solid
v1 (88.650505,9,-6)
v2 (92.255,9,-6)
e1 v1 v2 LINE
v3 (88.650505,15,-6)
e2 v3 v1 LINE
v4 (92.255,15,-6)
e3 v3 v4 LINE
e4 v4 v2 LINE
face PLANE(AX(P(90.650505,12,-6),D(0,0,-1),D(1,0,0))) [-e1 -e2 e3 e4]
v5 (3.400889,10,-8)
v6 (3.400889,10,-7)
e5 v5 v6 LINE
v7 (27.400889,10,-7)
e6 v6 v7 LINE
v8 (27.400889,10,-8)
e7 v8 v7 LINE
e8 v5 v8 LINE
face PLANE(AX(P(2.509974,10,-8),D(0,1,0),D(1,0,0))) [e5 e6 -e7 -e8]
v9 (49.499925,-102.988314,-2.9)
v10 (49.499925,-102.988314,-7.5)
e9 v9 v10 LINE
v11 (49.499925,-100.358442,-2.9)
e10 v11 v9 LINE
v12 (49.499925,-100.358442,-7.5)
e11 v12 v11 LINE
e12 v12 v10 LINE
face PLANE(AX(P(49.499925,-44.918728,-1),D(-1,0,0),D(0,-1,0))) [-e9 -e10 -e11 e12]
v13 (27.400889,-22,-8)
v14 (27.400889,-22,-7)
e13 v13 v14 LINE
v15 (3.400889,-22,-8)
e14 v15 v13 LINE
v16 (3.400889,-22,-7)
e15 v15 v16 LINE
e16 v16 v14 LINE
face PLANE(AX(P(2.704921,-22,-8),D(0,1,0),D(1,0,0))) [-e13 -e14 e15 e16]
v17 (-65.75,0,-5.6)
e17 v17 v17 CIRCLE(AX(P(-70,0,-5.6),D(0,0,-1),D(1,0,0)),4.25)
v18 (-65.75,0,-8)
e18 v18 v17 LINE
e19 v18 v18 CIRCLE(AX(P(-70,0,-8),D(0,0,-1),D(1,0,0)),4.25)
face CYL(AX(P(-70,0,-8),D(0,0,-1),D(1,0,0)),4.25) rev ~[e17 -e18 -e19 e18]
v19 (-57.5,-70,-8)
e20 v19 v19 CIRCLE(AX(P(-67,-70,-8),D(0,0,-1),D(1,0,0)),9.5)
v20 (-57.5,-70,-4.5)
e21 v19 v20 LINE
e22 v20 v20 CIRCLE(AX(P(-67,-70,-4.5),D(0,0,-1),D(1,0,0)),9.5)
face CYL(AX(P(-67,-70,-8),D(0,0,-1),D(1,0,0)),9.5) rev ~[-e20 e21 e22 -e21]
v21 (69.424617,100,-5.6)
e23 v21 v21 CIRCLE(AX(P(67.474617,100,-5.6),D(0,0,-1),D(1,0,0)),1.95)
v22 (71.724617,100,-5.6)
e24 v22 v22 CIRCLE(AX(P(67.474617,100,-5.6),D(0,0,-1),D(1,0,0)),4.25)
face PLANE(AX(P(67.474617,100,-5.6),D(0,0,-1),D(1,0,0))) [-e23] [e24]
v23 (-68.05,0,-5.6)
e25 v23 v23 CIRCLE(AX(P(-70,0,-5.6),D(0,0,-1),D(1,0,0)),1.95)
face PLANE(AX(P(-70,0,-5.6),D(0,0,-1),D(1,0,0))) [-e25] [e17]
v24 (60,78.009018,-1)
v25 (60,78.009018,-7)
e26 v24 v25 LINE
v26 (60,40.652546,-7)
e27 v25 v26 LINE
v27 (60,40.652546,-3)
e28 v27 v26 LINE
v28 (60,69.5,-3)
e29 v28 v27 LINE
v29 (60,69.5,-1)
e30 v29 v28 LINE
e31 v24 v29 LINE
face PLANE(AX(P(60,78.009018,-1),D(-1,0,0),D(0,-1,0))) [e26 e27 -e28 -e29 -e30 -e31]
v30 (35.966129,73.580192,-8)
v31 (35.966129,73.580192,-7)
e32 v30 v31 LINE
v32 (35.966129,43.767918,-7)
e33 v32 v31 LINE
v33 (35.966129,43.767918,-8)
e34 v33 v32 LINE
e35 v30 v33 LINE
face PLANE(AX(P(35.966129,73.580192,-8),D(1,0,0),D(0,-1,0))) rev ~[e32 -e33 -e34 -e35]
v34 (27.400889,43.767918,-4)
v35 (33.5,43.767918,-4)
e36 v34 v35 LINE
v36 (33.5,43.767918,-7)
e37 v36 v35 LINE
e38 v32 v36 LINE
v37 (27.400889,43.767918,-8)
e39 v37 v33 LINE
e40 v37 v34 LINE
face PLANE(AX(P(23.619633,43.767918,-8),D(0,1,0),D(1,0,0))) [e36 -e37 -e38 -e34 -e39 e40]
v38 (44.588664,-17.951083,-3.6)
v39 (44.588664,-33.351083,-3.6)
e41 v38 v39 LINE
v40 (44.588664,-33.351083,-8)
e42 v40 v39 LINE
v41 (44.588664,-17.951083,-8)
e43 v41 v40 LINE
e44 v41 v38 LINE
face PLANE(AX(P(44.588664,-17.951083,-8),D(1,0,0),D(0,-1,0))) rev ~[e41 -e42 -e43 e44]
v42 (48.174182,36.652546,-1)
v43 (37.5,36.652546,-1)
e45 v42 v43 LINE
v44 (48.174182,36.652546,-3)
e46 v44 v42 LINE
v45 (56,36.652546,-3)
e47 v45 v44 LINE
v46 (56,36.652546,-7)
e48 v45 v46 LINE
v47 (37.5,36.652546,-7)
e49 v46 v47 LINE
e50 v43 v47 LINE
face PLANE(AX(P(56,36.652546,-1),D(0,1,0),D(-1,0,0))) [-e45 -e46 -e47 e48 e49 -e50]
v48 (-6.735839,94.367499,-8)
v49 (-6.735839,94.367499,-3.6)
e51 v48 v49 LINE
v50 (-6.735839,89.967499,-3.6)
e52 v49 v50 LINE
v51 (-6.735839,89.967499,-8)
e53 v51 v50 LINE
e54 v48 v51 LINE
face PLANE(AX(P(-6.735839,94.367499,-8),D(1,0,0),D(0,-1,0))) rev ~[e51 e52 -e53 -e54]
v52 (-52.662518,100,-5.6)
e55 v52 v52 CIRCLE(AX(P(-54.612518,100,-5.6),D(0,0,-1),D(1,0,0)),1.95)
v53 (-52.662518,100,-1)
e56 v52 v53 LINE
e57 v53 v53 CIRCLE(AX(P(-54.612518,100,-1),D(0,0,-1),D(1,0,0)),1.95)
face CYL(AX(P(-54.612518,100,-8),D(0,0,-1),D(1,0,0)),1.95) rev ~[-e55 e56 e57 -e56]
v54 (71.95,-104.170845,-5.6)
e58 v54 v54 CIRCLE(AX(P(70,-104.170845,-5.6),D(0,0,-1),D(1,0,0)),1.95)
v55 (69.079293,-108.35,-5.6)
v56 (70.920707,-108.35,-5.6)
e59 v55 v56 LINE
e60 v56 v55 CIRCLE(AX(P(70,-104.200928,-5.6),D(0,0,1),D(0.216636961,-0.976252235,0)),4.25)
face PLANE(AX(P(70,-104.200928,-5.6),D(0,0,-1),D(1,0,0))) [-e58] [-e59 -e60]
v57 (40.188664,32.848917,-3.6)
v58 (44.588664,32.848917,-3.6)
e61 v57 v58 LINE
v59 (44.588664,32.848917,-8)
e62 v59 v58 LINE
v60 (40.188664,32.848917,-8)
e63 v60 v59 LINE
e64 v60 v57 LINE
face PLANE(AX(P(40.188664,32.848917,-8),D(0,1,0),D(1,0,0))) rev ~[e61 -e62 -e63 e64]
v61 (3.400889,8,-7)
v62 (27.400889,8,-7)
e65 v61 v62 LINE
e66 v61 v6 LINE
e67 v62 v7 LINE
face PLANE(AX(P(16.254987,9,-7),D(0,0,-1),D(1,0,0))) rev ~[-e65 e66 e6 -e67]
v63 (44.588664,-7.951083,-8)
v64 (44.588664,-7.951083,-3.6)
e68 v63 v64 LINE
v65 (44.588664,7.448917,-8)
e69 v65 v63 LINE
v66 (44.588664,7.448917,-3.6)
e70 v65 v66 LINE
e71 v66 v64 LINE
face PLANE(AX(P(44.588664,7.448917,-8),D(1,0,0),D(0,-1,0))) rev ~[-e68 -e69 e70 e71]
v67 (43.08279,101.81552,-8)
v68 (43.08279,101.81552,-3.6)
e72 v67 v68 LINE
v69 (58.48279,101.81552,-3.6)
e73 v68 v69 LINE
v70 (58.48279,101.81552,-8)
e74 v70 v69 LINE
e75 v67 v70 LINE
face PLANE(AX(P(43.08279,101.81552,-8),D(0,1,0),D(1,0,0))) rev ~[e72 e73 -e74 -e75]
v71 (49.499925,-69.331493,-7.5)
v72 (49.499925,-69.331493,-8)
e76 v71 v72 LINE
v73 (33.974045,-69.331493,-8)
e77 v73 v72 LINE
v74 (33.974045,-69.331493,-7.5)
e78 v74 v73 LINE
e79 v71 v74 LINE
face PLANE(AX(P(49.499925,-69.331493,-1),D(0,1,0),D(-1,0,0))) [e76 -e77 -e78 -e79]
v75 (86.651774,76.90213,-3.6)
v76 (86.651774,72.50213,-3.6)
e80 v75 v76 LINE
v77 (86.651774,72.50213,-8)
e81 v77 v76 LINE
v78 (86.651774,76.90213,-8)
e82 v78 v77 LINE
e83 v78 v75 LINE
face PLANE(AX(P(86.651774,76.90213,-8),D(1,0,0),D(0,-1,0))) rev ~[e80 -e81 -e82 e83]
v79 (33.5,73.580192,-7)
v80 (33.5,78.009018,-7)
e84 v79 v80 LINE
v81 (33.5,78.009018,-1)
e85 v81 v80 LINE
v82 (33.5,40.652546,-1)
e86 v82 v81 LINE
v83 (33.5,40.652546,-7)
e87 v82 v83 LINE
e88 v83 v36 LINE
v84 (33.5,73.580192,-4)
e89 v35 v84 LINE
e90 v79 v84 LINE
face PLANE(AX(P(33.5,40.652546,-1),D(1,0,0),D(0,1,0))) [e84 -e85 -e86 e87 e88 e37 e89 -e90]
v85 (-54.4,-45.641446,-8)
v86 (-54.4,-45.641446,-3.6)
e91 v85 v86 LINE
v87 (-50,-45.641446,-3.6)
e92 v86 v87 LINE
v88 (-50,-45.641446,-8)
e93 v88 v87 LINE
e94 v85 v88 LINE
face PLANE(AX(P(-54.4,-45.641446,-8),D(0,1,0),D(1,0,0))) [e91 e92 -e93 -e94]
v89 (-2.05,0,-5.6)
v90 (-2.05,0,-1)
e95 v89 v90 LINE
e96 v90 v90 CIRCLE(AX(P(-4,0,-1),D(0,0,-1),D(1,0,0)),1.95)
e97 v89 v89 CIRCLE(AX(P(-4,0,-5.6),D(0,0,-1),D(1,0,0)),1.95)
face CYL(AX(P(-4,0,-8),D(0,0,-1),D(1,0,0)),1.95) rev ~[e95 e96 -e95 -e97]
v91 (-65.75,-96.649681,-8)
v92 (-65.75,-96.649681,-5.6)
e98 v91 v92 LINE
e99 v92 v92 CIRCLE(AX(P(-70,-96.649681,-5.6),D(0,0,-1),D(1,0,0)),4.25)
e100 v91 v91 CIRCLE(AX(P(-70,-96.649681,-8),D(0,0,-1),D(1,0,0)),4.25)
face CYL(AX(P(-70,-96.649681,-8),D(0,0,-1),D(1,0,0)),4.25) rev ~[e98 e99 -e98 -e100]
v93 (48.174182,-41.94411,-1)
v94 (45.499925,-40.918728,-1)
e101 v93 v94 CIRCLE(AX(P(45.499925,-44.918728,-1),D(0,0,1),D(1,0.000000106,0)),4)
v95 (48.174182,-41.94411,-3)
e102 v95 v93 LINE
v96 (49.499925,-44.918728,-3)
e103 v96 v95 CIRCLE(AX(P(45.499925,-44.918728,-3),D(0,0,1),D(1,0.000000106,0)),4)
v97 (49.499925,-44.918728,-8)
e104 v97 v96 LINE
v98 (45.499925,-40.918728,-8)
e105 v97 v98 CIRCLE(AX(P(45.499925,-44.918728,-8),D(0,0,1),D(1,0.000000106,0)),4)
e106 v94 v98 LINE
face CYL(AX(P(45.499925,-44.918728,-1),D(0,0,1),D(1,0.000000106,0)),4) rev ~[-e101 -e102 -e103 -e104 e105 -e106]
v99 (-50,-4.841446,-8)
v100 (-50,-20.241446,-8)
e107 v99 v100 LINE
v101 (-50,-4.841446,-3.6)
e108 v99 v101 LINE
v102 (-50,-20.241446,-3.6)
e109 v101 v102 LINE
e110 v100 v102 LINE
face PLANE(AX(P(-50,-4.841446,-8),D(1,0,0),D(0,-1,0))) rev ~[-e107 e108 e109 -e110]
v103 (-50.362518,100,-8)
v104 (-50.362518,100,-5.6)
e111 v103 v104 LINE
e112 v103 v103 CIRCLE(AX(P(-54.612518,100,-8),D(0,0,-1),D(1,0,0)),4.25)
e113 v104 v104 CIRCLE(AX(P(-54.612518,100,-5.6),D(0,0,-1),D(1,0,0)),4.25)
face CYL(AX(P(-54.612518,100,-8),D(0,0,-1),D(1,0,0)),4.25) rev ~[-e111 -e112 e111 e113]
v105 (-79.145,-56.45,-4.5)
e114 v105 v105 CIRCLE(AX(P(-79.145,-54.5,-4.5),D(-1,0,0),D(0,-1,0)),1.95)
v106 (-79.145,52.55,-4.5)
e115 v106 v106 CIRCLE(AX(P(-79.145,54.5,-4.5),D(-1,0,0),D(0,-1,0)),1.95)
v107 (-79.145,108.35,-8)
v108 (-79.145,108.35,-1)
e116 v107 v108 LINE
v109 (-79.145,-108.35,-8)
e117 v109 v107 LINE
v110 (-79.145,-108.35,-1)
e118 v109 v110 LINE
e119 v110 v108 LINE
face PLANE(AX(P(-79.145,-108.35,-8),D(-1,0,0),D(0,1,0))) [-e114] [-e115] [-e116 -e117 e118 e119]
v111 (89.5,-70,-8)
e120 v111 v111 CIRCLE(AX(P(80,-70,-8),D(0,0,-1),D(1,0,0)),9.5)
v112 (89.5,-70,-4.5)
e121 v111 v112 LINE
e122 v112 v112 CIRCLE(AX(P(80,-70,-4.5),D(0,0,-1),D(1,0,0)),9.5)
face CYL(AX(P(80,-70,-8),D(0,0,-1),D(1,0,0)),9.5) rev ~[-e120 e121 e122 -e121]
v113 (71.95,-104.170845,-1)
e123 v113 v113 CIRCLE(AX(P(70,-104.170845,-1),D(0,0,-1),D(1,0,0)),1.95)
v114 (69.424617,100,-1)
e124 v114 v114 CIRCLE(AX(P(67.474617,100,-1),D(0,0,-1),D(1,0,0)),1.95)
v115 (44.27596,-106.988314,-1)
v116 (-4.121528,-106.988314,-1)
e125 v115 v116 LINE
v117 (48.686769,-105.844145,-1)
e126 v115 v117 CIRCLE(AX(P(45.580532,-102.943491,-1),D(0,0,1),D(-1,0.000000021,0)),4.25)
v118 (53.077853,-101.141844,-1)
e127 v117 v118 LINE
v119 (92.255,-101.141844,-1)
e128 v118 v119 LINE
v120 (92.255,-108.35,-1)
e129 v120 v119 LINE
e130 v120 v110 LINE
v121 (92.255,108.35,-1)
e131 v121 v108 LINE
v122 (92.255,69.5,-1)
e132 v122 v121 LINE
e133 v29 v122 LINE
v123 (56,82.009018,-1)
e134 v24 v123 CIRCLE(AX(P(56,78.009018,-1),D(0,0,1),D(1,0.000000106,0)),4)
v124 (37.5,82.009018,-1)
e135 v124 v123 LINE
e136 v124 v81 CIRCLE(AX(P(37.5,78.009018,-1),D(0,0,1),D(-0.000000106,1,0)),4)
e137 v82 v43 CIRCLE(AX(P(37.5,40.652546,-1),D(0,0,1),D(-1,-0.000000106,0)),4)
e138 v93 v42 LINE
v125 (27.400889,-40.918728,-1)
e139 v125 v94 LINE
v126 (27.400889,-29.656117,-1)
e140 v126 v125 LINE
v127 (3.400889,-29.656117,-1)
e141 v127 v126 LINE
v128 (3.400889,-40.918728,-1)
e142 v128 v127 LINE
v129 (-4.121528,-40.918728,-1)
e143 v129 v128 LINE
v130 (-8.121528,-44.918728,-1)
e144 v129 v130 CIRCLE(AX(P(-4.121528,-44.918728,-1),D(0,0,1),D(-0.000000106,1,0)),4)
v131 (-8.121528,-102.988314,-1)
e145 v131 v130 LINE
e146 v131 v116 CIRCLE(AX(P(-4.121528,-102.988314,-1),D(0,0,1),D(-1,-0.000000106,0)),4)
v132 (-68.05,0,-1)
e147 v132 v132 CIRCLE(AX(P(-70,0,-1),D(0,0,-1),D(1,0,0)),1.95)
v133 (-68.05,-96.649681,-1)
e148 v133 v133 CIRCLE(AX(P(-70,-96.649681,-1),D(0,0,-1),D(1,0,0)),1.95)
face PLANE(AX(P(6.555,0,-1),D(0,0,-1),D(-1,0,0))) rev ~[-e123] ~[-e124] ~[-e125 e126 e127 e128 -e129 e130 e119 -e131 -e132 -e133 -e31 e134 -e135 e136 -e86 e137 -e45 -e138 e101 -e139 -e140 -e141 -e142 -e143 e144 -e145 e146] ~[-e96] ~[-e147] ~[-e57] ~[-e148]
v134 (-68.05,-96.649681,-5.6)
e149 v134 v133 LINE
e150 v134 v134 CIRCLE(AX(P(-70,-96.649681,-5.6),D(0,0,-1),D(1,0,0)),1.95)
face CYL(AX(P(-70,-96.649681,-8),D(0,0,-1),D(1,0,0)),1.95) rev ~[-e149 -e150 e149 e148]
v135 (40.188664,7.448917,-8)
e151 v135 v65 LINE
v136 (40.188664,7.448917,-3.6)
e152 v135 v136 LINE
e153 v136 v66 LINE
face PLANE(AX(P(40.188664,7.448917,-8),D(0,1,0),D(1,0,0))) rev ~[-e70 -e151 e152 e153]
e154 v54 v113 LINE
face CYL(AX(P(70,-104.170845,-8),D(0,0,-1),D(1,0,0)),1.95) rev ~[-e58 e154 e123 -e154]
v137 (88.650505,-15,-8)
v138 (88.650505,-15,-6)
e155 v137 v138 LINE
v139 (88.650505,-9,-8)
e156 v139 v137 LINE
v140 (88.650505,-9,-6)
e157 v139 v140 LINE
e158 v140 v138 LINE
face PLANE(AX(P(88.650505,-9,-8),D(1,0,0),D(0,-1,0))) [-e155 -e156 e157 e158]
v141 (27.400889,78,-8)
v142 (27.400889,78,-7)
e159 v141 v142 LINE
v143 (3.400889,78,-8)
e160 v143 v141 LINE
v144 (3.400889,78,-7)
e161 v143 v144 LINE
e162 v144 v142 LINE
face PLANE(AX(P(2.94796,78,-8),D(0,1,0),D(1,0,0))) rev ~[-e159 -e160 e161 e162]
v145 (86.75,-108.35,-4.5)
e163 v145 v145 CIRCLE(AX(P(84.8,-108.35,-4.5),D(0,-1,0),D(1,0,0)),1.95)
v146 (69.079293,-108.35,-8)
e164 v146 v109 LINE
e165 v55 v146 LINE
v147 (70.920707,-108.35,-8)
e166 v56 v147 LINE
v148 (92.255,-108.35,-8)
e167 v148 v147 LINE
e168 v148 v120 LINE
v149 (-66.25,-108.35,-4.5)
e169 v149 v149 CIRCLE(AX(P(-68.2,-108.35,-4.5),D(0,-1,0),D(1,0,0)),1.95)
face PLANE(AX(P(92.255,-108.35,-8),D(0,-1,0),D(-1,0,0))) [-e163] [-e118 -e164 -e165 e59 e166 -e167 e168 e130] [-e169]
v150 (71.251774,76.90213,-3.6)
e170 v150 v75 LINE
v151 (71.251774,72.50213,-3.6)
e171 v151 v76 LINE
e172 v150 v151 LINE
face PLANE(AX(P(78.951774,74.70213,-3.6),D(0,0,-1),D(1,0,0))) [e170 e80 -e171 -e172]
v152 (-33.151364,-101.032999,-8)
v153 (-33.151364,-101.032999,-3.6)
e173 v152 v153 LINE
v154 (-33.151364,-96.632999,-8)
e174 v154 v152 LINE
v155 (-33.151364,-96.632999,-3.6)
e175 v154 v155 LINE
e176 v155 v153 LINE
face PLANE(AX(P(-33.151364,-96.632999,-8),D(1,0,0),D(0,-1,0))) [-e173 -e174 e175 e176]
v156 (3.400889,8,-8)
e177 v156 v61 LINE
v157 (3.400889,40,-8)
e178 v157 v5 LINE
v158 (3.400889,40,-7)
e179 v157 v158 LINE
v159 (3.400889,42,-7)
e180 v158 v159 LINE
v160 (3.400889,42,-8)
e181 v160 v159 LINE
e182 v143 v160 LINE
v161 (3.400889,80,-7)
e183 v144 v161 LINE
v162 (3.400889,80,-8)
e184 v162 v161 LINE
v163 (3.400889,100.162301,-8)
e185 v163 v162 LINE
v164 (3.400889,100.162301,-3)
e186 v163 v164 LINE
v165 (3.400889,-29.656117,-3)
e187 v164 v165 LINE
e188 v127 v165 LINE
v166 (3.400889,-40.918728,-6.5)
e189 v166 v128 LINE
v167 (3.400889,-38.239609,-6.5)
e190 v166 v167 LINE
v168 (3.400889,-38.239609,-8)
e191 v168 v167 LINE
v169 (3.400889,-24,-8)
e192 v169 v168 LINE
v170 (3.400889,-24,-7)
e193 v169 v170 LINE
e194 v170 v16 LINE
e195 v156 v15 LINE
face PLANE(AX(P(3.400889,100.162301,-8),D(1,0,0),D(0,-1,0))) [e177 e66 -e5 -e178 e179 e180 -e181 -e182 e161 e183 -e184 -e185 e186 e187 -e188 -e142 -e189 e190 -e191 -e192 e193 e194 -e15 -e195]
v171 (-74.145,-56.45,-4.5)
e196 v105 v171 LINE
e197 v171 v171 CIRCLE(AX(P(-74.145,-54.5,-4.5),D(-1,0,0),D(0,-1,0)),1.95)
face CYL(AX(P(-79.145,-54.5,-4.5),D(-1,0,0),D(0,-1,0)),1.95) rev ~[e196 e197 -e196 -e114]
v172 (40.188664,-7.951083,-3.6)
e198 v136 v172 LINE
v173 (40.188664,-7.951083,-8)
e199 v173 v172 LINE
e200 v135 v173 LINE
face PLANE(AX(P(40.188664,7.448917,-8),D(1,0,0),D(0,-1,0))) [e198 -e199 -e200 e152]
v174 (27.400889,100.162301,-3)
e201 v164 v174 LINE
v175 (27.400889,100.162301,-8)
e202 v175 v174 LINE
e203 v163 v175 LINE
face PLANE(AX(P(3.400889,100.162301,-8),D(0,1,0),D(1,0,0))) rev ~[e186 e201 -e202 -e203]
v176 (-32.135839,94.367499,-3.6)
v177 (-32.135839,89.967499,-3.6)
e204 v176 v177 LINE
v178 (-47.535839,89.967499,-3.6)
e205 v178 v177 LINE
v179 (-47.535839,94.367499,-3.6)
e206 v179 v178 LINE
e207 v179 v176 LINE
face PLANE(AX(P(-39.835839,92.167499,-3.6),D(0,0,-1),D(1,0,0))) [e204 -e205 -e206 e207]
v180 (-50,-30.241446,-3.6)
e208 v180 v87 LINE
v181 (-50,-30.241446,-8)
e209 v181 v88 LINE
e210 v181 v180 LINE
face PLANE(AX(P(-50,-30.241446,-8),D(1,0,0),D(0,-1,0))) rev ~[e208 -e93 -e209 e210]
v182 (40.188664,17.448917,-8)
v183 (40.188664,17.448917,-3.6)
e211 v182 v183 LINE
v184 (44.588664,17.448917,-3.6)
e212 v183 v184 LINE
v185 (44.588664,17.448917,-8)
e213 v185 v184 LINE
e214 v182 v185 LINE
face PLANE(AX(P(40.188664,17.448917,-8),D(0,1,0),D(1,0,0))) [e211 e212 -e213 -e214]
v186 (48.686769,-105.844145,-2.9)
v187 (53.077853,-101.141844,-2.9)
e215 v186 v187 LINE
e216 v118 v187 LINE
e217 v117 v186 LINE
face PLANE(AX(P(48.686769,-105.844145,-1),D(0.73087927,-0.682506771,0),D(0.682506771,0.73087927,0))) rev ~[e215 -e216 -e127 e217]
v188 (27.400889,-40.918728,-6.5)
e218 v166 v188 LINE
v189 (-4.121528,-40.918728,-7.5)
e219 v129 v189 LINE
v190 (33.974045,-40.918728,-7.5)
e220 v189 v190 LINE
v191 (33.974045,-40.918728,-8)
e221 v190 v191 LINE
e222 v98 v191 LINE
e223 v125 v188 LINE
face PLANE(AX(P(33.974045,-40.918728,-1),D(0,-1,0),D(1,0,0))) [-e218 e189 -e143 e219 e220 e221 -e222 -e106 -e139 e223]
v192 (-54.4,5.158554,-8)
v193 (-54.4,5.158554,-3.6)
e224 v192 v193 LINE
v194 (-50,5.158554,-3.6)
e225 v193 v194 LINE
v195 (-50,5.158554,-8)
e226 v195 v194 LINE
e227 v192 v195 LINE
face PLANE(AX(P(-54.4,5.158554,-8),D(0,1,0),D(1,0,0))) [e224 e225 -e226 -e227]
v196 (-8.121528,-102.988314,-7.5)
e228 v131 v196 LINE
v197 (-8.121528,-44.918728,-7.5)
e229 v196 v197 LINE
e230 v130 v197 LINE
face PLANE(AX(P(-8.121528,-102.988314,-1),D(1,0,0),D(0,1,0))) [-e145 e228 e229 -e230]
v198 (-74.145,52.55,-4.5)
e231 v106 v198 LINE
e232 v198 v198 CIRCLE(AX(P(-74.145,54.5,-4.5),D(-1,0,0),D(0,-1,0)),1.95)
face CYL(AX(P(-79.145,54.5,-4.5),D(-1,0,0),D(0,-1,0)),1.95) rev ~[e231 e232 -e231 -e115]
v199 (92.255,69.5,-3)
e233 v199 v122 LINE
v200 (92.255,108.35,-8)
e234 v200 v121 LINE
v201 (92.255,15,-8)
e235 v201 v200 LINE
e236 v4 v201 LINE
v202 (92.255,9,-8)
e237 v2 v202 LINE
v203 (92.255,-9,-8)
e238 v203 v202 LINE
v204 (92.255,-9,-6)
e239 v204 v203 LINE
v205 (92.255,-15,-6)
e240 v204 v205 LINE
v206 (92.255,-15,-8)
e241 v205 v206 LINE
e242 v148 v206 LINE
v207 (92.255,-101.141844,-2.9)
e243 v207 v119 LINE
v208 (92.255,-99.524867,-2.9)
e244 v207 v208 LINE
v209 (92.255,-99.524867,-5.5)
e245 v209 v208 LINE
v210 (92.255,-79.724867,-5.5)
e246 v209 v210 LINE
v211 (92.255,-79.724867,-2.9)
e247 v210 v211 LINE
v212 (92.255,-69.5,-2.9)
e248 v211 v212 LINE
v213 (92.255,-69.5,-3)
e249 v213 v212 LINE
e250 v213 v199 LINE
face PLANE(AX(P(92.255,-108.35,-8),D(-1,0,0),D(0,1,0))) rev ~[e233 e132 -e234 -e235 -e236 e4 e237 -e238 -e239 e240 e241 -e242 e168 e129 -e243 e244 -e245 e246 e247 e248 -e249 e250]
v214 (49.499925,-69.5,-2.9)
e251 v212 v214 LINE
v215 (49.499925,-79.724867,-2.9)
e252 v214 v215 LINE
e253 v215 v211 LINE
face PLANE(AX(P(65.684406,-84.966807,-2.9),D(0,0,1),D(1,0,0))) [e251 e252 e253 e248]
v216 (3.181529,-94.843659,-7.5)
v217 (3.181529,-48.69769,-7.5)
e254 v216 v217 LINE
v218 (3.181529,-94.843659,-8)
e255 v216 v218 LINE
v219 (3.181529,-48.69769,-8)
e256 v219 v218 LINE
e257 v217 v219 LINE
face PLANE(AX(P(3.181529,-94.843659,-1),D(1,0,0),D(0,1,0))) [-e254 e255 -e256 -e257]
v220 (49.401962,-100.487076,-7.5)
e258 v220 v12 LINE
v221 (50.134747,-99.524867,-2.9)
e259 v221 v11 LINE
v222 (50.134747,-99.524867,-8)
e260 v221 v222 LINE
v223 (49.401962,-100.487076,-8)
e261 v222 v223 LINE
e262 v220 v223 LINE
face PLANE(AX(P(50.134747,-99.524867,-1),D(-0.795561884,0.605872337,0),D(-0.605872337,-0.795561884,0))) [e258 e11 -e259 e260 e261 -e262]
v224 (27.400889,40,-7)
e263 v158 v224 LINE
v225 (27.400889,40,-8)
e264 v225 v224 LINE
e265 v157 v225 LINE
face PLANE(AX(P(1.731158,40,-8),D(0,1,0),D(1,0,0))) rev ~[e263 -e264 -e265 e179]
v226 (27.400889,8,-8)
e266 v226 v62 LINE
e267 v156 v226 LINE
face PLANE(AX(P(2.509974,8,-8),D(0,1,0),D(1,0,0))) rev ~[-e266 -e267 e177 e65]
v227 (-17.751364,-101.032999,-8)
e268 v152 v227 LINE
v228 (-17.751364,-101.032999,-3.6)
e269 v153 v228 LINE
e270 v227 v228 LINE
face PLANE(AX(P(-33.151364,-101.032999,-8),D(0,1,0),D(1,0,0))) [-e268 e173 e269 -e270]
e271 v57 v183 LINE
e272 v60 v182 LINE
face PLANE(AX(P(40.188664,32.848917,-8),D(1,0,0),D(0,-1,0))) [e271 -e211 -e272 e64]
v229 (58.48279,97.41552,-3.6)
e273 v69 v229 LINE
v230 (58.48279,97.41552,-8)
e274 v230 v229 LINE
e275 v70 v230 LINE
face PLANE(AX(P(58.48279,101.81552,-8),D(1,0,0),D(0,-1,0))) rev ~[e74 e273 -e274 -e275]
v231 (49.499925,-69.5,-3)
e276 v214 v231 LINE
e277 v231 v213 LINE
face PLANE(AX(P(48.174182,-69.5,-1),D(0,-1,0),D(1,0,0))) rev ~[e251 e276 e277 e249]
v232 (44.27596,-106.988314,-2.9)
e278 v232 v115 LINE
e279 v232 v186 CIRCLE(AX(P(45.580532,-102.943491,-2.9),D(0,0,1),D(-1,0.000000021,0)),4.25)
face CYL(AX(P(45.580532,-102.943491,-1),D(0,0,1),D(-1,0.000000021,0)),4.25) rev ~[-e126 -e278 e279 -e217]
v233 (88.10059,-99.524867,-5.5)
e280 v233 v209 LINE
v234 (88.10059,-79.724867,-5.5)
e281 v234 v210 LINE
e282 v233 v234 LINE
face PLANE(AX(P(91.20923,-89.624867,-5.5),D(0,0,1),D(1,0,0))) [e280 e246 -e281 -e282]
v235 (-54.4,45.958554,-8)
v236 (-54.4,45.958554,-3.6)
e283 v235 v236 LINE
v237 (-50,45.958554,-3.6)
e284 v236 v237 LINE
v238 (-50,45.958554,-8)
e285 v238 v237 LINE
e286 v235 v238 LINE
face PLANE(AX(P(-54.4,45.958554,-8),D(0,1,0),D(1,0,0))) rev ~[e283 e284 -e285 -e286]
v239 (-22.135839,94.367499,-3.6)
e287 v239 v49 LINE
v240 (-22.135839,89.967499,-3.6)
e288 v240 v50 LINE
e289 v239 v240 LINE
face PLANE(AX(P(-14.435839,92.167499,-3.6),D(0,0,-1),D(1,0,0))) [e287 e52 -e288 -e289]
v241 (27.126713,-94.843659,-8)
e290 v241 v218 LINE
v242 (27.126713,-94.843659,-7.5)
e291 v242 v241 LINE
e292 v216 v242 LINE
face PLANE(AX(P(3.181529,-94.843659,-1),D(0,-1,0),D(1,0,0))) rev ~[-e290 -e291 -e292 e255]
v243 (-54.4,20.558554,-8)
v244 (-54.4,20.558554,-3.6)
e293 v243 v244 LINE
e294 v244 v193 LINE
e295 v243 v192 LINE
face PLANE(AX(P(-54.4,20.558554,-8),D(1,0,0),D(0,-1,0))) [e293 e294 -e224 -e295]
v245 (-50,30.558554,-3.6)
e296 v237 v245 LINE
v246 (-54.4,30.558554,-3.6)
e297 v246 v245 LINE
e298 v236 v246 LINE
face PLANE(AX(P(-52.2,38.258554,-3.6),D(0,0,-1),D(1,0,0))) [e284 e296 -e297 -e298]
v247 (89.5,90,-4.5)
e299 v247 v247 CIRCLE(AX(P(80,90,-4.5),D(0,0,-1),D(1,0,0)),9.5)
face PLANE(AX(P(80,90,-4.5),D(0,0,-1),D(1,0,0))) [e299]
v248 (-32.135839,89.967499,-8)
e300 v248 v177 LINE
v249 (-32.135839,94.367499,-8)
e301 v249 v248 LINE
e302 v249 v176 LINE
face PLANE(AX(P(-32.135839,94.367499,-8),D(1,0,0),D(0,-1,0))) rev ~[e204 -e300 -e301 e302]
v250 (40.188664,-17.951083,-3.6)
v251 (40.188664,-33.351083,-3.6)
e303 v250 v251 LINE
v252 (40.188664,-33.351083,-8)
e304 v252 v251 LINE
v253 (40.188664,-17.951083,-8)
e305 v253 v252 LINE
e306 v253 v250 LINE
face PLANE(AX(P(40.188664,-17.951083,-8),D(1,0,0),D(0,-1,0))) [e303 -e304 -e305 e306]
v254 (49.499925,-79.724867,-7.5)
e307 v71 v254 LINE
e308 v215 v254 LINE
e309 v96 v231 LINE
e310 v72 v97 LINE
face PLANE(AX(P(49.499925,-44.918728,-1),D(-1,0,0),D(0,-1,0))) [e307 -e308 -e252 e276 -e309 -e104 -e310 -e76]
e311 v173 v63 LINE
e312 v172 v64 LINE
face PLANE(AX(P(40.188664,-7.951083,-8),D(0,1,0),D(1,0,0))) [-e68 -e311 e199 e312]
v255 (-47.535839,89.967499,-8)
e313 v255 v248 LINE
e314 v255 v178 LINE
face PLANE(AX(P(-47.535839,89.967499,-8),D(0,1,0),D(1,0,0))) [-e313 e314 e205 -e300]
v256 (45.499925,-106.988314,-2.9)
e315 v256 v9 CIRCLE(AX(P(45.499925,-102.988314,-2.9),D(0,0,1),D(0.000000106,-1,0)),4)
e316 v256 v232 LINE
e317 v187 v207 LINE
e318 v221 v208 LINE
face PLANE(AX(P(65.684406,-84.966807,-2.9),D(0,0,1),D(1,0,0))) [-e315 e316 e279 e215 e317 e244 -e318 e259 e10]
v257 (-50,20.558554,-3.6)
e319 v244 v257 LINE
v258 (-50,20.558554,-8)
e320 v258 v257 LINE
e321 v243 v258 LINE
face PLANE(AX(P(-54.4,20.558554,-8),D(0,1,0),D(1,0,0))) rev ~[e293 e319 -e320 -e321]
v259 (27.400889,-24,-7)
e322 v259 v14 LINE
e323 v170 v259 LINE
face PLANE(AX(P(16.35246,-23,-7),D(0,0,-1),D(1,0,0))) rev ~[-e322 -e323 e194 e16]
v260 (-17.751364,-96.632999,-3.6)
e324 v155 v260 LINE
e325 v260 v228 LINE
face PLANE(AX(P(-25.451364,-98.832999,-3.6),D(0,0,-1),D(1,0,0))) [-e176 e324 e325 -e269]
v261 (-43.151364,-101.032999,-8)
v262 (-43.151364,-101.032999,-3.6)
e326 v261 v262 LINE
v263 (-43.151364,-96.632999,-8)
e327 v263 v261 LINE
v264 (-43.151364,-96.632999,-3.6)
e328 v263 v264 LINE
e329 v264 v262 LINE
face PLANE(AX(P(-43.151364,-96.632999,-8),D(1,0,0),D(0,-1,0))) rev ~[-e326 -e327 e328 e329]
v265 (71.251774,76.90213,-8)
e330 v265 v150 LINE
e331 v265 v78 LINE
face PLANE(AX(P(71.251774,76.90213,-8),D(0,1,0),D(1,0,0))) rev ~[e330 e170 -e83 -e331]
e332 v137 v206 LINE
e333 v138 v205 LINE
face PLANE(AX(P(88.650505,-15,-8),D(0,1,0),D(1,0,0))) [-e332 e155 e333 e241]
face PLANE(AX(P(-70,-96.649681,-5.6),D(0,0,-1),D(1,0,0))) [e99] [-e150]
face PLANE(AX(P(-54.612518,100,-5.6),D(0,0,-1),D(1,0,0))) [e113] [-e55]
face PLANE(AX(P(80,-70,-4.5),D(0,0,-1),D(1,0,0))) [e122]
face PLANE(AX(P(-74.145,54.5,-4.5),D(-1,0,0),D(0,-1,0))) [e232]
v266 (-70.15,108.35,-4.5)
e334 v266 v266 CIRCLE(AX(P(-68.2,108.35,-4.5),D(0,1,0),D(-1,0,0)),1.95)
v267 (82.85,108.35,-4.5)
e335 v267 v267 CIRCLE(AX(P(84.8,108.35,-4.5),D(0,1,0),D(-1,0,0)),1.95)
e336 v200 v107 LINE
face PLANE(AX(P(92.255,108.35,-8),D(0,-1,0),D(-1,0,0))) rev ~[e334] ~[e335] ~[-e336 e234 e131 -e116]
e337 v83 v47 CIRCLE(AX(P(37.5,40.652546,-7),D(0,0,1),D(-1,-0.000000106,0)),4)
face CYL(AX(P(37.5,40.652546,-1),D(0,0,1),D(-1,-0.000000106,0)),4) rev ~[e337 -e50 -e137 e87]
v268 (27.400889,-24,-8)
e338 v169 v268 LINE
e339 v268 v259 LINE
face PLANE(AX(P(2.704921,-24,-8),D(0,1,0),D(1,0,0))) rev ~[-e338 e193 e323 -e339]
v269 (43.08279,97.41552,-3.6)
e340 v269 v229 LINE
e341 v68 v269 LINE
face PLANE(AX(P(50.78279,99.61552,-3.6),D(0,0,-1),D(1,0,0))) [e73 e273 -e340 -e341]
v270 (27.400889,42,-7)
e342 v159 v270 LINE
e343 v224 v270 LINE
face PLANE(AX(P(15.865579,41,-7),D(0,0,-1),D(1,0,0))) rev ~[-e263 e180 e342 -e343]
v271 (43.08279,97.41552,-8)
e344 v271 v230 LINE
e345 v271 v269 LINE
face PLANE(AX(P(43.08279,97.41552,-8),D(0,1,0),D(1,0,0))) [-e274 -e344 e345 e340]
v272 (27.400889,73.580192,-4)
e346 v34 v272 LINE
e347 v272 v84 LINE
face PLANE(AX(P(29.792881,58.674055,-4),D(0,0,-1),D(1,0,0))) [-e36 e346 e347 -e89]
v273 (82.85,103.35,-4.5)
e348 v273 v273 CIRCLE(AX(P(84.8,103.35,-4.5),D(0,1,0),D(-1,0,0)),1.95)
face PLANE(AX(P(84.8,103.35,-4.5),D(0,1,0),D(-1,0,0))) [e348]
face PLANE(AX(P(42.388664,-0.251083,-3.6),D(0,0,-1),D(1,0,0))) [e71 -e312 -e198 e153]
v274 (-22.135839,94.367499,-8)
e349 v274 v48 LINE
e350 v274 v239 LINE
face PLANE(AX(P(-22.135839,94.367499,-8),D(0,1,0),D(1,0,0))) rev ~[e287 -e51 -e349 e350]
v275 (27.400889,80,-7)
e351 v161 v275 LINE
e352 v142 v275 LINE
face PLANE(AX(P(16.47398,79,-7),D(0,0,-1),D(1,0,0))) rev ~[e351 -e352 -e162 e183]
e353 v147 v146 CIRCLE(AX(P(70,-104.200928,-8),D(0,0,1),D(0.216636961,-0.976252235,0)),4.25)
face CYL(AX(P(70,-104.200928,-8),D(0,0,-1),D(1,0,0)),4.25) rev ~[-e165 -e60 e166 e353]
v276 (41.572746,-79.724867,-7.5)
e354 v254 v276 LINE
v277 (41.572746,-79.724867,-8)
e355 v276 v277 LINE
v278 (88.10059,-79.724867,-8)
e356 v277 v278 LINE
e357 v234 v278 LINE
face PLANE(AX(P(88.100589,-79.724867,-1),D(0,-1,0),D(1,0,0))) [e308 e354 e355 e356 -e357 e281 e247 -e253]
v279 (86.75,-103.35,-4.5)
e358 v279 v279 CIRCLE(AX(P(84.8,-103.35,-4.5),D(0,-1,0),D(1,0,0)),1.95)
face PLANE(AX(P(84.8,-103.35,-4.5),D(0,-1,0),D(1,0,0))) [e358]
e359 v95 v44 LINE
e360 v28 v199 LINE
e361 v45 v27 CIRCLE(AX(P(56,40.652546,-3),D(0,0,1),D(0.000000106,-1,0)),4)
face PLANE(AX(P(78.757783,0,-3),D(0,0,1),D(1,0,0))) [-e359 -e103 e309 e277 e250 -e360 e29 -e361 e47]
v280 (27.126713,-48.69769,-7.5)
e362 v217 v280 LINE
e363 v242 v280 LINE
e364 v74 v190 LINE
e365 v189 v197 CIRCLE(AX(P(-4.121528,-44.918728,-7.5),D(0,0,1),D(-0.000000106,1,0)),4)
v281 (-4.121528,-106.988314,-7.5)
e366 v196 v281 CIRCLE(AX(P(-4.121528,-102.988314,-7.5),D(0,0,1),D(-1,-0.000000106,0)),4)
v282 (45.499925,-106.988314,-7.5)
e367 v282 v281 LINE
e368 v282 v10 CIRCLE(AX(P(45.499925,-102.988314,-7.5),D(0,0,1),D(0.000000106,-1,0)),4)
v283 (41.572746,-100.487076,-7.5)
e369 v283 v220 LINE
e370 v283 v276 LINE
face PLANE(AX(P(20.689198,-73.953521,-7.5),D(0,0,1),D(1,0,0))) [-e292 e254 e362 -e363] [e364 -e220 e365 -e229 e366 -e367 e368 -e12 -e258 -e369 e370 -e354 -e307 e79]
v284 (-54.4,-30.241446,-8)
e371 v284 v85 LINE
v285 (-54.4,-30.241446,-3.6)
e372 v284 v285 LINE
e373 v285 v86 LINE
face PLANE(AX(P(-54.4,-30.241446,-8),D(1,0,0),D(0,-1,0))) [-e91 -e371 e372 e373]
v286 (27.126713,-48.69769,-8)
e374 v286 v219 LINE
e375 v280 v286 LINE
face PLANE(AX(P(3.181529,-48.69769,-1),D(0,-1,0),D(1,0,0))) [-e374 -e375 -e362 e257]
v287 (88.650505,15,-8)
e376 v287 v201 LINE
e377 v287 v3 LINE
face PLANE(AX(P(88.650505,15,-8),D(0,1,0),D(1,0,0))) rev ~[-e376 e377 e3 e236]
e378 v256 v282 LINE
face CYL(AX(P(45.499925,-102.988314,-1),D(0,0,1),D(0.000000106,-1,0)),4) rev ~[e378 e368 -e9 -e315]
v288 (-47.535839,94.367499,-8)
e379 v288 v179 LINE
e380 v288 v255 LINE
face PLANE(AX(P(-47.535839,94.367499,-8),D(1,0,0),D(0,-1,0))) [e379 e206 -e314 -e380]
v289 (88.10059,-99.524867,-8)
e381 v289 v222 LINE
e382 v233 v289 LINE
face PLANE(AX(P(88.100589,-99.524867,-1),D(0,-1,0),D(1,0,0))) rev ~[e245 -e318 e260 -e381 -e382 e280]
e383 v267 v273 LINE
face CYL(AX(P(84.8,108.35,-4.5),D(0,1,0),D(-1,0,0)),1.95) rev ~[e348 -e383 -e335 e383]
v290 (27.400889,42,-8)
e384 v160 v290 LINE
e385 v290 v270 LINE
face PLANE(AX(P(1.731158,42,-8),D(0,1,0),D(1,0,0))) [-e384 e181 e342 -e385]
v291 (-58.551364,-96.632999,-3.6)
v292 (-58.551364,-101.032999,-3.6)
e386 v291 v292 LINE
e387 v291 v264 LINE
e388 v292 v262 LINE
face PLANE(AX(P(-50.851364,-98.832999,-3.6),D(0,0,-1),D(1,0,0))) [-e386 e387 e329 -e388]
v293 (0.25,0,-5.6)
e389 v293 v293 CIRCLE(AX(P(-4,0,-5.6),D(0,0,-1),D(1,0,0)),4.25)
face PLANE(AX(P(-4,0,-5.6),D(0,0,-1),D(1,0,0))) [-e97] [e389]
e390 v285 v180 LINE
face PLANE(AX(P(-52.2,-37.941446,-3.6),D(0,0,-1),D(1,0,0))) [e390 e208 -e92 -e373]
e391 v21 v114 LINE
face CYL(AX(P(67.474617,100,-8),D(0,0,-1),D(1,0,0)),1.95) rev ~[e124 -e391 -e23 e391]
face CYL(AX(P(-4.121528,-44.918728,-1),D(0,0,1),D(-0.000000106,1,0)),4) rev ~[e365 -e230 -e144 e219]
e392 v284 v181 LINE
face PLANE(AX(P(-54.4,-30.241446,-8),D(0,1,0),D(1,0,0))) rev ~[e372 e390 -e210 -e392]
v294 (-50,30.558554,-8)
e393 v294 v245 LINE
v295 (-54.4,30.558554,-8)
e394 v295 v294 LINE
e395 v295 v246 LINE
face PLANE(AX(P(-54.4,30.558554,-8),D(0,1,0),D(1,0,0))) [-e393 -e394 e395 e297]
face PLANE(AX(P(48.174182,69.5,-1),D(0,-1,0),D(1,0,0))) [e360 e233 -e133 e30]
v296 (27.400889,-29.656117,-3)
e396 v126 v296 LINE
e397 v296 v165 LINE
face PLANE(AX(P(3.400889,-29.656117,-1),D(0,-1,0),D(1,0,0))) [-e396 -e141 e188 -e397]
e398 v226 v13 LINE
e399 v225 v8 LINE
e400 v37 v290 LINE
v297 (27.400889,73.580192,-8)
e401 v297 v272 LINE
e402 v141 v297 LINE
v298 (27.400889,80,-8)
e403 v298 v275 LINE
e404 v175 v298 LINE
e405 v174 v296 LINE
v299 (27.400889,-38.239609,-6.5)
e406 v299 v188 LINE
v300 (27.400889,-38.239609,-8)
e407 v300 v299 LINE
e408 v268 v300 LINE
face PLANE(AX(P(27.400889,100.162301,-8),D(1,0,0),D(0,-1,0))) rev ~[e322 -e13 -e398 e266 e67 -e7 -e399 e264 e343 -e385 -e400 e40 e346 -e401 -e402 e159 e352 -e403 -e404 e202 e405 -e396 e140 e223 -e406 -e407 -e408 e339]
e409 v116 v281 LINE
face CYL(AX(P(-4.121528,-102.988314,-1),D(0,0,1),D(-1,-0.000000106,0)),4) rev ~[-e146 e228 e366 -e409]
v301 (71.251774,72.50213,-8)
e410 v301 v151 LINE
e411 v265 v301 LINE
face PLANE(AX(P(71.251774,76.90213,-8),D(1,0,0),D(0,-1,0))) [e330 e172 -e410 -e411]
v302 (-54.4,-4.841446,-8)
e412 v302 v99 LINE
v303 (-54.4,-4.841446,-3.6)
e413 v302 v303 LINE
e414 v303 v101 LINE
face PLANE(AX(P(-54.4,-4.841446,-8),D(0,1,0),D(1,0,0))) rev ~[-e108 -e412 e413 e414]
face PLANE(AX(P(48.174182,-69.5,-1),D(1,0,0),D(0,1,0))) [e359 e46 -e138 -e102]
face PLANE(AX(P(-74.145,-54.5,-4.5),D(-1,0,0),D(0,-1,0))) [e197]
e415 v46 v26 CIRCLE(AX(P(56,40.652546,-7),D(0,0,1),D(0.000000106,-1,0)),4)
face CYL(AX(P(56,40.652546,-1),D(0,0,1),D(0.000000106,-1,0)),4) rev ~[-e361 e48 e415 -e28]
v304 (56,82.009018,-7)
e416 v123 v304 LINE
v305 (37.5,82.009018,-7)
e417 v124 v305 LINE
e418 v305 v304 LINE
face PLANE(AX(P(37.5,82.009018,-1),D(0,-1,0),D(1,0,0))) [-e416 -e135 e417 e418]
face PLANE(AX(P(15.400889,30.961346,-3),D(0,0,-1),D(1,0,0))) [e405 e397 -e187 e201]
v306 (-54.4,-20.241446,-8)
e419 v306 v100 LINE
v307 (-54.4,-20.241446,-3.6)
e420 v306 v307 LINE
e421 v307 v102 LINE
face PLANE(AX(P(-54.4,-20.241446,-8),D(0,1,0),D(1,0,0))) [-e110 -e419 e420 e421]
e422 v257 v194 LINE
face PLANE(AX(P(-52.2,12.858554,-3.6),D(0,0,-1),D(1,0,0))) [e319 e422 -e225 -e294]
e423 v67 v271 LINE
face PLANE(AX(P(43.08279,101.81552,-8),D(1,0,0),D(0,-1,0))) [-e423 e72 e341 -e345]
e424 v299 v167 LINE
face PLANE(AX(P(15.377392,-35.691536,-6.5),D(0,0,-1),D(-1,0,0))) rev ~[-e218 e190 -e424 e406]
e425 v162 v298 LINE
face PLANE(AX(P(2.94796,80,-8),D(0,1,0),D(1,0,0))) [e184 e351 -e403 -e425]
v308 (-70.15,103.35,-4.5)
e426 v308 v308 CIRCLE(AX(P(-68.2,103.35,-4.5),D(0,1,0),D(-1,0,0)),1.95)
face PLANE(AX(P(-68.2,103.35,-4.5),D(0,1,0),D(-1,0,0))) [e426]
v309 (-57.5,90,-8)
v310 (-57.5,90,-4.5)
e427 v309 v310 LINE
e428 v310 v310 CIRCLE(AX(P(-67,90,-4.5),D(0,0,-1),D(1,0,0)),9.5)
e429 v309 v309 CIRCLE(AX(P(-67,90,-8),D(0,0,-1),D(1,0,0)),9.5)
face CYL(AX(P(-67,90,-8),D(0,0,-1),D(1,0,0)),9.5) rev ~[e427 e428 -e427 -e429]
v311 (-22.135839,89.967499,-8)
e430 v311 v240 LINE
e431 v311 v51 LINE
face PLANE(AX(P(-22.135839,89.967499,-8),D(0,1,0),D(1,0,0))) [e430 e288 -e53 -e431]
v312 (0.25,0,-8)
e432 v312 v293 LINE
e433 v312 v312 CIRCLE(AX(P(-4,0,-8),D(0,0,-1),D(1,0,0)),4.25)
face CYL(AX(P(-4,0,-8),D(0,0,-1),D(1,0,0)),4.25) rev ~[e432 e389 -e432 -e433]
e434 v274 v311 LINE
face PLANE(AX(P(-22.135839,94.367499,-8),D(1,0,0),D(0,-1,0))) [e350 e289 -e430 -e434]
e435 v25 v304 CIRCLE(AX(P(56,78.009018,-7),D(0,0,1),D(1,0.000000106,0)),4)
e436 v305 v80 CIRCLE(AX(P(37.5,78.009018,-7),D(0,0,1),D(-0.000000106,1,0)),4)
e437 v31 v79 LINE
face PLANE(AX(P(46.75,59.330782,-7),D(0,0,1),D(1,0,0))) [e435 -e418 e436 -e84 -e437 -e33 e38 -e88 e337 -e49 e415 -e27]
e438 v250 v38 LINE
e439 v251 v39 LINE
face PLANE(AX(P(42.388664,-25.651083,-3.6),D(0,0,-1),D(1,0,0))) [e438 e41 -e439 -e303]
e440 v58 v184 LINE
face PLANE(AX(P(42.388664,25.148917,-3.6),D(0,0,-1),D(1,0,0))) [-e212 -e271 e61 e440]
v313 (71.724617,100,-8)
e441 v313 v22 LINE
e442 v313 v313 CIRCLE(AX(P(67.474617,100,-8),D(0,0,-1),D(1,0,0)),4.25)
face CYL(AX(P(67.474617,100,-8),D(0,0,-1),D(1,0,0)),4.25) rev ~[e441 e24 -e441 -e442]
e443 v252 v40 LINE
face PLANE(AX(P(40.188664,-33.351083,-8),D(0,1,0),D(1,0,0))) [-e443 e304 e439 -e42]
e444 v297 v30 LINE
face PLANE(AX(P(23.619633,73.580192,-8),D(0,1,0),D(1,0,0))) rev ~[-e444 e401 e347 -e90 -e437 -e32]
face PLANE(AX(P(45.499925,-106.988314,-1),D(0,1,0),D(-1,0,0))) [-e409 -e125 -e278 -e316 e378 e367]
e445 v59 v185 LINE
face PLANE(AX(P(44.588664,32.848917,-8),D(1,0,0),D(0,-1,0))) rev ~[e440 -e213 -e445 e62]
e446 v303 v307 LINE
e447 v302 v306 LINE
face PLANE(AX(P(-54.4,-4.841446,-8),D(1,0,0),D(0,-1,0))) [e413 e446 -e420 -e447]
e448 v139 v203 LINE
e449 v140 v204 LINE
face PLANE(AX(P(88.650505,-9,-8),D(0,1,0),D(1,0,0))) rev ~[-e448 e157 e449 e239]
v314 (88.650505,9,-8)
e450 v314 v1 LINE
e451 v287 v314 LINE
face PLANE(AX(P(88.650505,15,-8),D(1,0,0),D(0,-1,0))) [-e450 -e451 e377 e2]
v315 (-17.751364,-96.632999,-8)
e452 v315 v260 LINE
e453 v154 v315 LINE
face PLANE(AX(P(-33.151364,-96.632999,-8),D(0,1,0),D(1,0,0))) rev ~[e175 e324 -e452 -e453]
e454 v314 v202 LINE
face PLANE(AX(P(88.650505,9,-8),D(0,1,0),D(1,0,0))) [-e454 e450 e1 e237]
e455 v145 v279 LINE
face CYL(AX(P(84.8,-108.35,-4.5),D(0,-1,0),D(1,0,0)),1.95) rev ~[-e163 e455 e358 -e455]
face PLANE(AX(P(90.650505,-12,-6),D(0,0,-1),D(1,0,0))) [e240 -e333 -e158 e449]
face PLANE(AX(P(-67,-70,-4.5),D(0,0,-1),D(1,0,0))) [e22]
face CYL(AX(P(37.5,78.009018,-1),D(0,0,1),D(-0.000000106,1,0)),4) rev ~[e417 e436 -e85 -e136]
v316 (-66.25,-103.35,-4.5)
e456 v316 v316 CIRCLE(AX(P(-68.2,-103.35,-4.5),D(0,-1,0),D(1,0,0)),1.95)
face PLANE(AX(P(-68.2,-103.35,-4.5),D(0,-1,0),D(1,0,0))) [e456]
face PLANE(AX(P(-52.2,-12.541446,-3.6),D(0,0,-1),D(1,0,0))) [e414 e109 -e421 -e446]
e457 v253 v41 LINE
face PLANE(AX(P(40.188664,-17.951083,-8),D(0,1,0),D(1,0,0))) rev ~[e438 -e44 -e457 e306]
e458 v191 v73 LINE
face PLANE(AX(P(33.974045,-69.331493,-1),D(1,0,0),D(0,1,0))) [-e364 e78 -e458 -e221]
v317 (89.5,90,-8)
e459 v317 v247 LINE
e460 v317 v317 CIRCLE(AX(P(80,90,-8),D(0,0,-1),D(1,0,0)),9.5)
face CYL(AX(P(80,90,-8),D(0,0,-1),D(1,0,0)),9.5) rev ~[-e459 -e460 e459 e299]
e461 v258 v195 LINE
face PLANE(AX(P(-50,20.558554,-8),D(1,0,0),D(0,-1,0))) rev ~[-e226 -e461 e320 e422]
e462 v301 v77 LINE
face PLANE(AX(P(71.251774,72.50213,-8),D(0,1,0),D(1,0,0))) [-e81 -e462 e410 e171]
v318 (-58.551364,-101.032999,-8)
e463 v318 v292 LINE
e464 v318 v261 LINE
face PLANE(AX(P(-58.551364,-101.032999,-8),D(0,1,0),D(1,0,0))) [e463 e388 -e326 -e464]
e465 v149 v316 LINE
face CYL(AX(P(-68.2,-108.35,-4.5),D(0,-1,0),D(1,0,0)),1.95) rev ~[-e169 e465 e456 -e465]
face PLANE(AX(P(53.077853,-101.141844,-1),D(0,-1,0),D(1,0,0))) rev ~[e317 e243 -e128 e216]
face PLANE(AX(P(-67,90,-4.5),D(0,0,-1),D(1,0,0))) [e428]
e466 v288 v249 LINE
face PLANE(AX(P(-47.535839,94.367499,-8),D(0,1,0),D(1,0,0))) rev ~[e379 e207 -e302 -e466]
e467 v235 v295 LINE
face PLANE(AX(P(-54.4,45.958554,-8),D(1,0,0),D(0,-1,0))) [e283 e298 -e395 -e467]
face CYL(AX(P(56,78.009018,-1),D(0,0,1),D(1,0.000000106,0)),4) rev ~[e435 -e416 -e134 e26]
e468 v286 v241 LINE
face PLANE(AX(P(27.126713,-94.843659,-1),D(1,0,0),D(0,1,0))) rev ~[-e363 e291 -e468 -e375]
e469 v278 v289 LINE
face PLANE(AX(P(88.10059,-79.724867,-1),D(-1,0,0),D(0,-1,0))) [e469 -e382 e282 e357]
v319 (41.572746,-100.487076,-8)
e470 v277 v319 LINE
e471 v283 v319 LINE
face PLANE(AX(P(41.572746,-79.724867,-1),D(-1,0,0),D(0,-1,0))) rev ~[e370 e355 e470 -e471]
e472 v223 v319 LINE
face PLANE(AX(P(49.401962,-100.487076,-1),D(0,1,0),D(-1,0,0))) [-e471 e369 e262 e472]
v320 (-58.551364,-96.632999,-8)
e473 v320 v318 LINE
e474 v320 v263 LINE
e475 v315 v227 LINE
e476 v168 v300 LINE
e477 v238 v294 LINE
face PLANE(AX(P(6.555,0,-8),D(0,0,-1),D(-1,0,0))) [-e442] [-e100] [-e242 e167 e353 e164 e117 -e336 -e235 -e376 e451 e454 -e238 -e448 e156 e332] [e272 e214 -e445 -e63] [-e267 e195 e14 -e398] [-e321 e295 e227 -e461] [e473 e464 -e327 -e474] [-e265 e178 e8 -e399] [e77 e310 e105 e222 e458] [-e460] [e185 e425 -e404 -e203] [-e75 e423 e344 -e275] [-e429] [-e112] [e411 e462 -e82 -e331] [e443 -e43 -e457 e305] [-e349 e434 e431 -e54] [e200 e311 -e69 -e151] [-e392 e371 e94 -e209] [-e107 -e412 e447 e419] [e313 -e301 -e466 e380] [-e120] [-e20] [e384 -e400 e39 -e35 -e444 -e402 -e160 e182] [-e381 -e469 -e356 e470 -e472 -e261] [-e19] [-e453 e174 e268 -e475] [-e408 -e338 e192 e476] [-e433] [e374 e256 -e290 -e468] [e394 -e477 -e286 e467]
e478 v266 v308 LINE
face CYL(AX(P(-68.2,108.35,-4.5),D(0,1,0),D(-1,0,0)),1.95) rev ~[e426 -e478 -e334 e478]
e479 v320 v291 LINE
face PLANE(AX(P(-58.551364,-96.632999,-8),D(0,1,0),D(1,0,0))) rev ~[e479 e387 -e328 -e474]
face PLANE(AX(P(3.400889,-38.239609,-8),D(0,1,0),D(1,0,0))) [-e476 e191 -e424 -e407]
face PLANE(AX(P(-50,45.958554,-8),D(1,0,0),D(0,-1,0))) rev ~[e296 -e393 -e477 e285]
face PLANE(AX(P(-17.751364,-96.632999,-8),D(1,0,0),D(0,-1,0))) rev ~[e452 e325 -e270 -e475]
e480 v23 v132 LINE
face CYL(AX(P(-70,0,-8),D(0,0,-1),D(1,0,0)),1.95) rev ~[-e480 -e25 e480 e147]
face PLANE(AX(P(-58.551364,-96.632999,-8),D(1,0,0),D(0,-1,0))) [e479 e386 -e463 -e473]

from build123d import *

# Parameters (mm, degrees)
SKETCH017_W     = 171.4
SKETCH017_H     = 216.7
PAD008_DEPTH    = 7
SKETCH020_W     = 61.167203
SKETCH020_H     = 139
POCKET010_DEPTH = 2
POCKET011_DEPTH = 6
SKETCH022_W     = 24
SKETCH022_H     = 138.401909
POCKET012_DEPTH = 5
POCKET014_DEPTH = 1.9
POCKET015_DEPTH = 7
POCKET016_DEPTH = 6.5
POCKET017_DEPTH = 5.5
SKETCH029_W     = 6.217281
SKETCH029_H     = 19.8
POCKET018_DEPTH = 4.5
SKETCH031_W     = 23.945183
SKETCH031_H     = 46.145969
POCKET020_DEPTH = 25
SKETCH033_W     = 12.346496
SKETCH033_H     = 29.812275
POCKET022_DEPTH = 4
SKETCH036_R     = 1.95
POCKET025_DEPTH = 5
SKETCH039_R     = 1.95
POCKET028_DEPTH = 5
SKETCH_W        = 27.295079
SKETCH_H        = 2
SKETCH_W_2      = 27.490026
SKETCH_W_3      = 28.268842
SKETCH_W_4      = 27.05204
PAD_DEPTH       = 1
SKETCH049_R     = 9.5
POCKET030_DEPTH = 3.5
SKETCH053_R     = 4.25
POCKET033_DEPTH = 2.4
SKETCH054_R     = 1.95
POCKET034_DEPTH = 15
SKETCH055_W     = 15.4
SKETCH055_H     = 4.4
SKETCH055_W_2   = 4.4
SKETCH055_H_2   = 15.4
POCKET035_DEPTH = 4.4
SKETCH057_W     = 4
SKETCH057_H     = 6
POCKET036_DEPTH = 2
SKETCH060_R     = 1.95
POCKET038_DEPTH = 5


with BuildPart() as part:
    # Sketch017 → Pad008 (new body)
    with BuildSketch(Plane(origin=(0, 0, -8), x_dir=(-1, 0, 0), z_dir=(0, 0, -1))):
        with Locations((-6.555, 0)):
            Rectangle(SKETCH017_W, SKETCH017_H)
    extrude(amount=-PAD008_DEPTH)

    # Sketch020 (on DatumPlane) → Pocket010 (cut)
    with BuildSketch(Plane.XY.offset(-1)):
        with Locations((78.757783, 0)):
            Rectangle(SKETCH020_W, SKETCH020_H)
    extrude(amount=-POCKET010_DEPTH, mode=Mode.SUBTRACT)

    # Sketch021 (on DatumPlane) → Pocket011 (cut)
    with BuildSketch(Plane.XY.offset(-1)):
        with BuildLine():
            ThreePointArc((60, 78.009018), (58.828427, 80.837445), (56, 82.009018))
            Line((37.5, 82.009018), (56, 82.009018))
            ThreePointArc((37.5, 82.009018), (34.671573, 80.837445), (33.5, 78.009018))
            Line((33.5, 40.652546), (33.5, 78.009018))
            ThreePointArc((33.5, 40.652546), (34.671573, 37.824119), (37.5, 36.652546))
            Line((56, 36.652546), (37.5, 36.652546))
            ThreePointArc((56, 36.652546), (58.828427, 37.824119), (60, 40.652546))
            Line((60, 78.009018), (60, 40.652546))
        make_face()
    extrude(amount=-POCKET011_DEPTH, mode=Mode.SUBTRACT)

    # Sketch022 (on DatumPlane) → Pocket012 (cut)
    with BuildSketch(Plane(origin=(0, 0, -8), x_dir=(1, 0, 0), z_dir=(0, 0, -1))):
        with Locations((15.400889, -30.961346)):
            Rectangle(SKETCH022_W, SKETCH022_H)
    extrude(amount=-POCKET012_DEPTH, mode=Mode.SUBTRACT)

    # Sketch025 (on DatumPlane) → Pocket014 (cut)
    with BuildSketch(Plane.XY.offset(-1)):
        with BuildLine():
            Line((93.246833, -69.304718), (61.387916, -69.304718))
            Line((61.387916, -69.304718), (55.011108, -64.243446))
            Line((55.011108, -64.243446), (41.330532, -64.243446))
            Line((41.330532, -64.243446), (41.330532, -102.943491))
            ThreePointArc((41.330532, -102.943491), (44.021527, -106.897224), (48.686769, -105.844145))
            Line((48.686769, -105.844145), (53.077853, -101.141844))
            Line((53.077853, -101.141844), (93.246833, -101.141844))
            Line((93.246833, -101.141844), (93.246833, -69.304718))
        make_face()
    extrude(amount=-POCKET014_DEPTH, mode=Mode.SUBTRACT)

    # Sketch026 (on DatumPlane) → Pocket015 (cut)
    with BuildSketch(Plane.XY.offset(-1)):
        Polygon((41.572746, -79.724867), (88.10059, -79.724867), (88.10059, -99.524867), (50.134747, -99.524867), (49.401962, -100.487076), (41.572746, -100.487076), (41.572746, -99.426659), align=None)
    extrude(amount=-POCKET015_DEPTH, mode=Mode.SUBTRACT)

    # Sketch027 (on DatumPlane) → Pocket016 (cut)
    with BuildSketch(Plane.XY.offset(-1)):
        with BuildLine():
            ThreePointArc((-4.121528, -40.918728), (-6.949955, -42.090301), (-8.121528, -44.918728))
            Line((-8.121528, -102.988314), (-8.121528, -44.918728))
            ThreePointArc((-8.121528, -102.988314), (-6.949955, -105.816741), (-4.121528, -106.988314))
            Line((45.499925, -106.988314), (-4.121528, -106.988314))
            ThreePointArc((45.499925, -106.988314), (48.328352, -105.816741), (49.499925, -102.988314))
            Line((49.499925, -44.918728), (49.499925, -102.988314))
            ThreePointArc((49.499925, -44.918728), (48.328352, -42.090301), (45.499925, -40.918728))
            Line((-4.121528, -40.918728), (45.499925, -40.918728))
        make_face()
    extrude(amount=-POCKET016_DEPTH, mode=Mode.SUBTRACT)

    # Sketch028 (on DatumPlane) → Pocket017 (cut)
    with BuildSketch(Plane.XY.offset(-1)):
        Polygon((3.400889, -29.656117), (27.400889, -29.656117), (27.400889, -41.656117), (3.400889, -41.797379), align=None)
    extrude(amount=-POCKET017_DEPTH, mode=Mode.SUBTRACT)

    # Sketch029 (on DatumPlane) → Pocket018 (cut)
    with BuildSketch(Plane.XY.offset(-1)):
        with Locations((91.20923, -89.624867)):
            Rectangle(SKETCH029_W, SKETCH029_H)
    extrude(amount=-POCKET018_DEPTH, mode=Mode.SUBTRACT)

    # Sketch031 (on DatumPlane) → Pocket020 (cut)
    with BuildSketch(Plane.XY.offset(-1)):
        with Locations((15.154121, -71.770674)):
            Rectangle(SKETCH031_W, SKETCH031_H)
        with BuildLine():
            Line((33.974045, -40.918728), (45.499925, -40.918728))
            ThreePointArc((49.499925, -44.918728), (48.328352, -42.090301), (45.499925, -40.918728))
            Line((49.499925, -44.918728), (49.499925, -69.331493))
            Line((49.499925, -69.331493), (33.974045, -69.331493))
            Line((33.974045, -69.331493), (33.974045, -40.918728))
        make_face()
    extrude(amount=-POCKET020_DEPTH, mode=Mode.SUBTRACT)

    # Sketch033 (on DatumPlane) → Pocket022 (cut)
    with BuildSketch(Plane(origin=(0, 0, -8), x_dir=(1, 0, 0), z_dir=(0, 0, -1))):
        with Locations((29.792881, -58.674055)):
            Rectangle(SKETCH033_W, SKETCH033_H)
    extrude(amount=-POCKET022_DEPTH, mode=Mode.SUBTRACT)

    # Sketch036 (on Face3 of Pad008) → Pocket025 (cut)
    with BuildSketch(Plane.XZ.offset(108.35)):
        with Locations((-68.2, -4.5)):
            Circle(SKETCH036_R)
        with Locations((84.8, -4.5)):
            Circle(SKETCH036_R)
    extrude(amount=-POCKET025_DEPTH, mode=Mode.SUBTRACT)

    # Sketch039 (on Face1 of Pad008) → Pocket028 (cut)
    with BuildSketch(Plane(origin=(0, 108.35, 0), x_dir=(-1, 0, 0), z_dir=(0, 1, 0))):
        with Locations((-84.8, -4.5)):
            Circle(SKETCH039_R)
        with Locations((68.2, -4.5)):
            Circle(SKETCH039_R)
    extrude(amount=-POCKET028_DEPTH, mode=Mode.SUBTRACT)

    # Sketch (on DatumPlane) → Pad (join)
    with BuildSketch(Plane(origin=(0, 0, -8), x_dir=(1, 0, 0), z_dir=(0, 0, -1))):
        with Locations((16.35246, 23)):
            Rectangle(SKETCH_W, SKETCH_H)
        with Locations((16.254987, -9)):
            Rectangle(SKETCH_W_2, SKETCH_H)
        with Locations((15.865579, -41)):
            Rectangle(SKETCH_W_3, SKETCH_H)
        with Locations((16.47398, -79)):
            Rectangle(SKETCH_W_4, SKETCH_H)
    extrude(amount=-PAD_DEPTH)

    # Sketch049 (on DatumPlane) → Pocket030 (cut)
    with BuildSketch(Plane(origin=(0, 0, -8), x_dir=(1, 0, 0), z_dir=(0, 0, -1))):
        with Locations((-67, -90)):
            Circle(SKETCH049_R)
        with Locations((80, -90)):
            Circle(SKETCH049_R)
        with Locations((80, 70)):
            Circle(SKETCH049_R)
        with Locations((-67, 70)):
            Circle(SKETCH049_R)
    extrude(amount=-POCKET030_DEPTH, mode=Mode.SUBTRACT)

    # Sketch053 (on DatumPlane) → Pocket033 (cut)
    with BuildSketch(Plane(origin=(0, 0, -8), x_dir=(1, 0, 0), z_dir=(0, 0, -1))):
        with Locations((-70, 0)):
            Circle(SKETCH053_R)
        with Locations((-4, 0)):
            Circle(SKETCH053_R)
        with Locations((70, 104.200928)):
            Circle(SKETCH053_R)
        with Locations((-70, 96.649681)):
            Circle(SKETCH053_R)
        with Locations((67.474617, -100)):
            Circle(SKETCH053_R)
        with Locations((-54.612518, -100)):
            Circle(SKETCH053_R)
    extrude(amount=-POCKET033_DEPTH, mode=Mode.SUBTRACT)

    # Sketch054 (on DatumPlane) → Pocket034 (cut)
    with BuildSketch(Plane(origin=(0, 0, -8), x_dir=(1, 0, 0), z_dir=(0, 0, -1))):
        with Locations((-70, 96.649681)):
            Circle(SKETCH054_R)
        with Locations((70, 104.170845)):
            Circle(SKETCH054_R)
        with Locations((-4, 0)):
            Circle(SKETCH054_R)
        with Locations((-70, 0)):
            Circle(SKETCH054_R)
        with Locations((-54.612518, -100)):
            Circle(SKETCH054_R)
        with Locations((67.474617, -100)):
            Circle(SKETCH054_R)
    extrude(amount=-POCKET034_DEPTH, mode=Mode.SUBTRACT)

    # Sketch055 (on DatumPlane) → Pocket035 (cut)
    with BuildSketch(Plane(origin=(0, 0, -8), x_dir=(1, 0, 0), z_dir=(0, 0, -1))):
        with Locations((-39.835839, -92.167499)):
            Rectangle(SKETCH055_W, SKETCH055_H)
        with Locations((-52.2, 37.941446)):
            Rectangle(SKETCH055_W_2, SKETCH055_H_2)
        with Locations((-52.2, 12.541446)):
            Rectangle(SKETCH055_W_2, SKETCH055_H_2)
        with Locations((-52.2, -12.858554)):
            Rectangle(SKETCH055_W_2, SKETCH055_H_2)
        with Locations((-52.2, -38.258554)):
            Rectangle(SKETCH055_W_2, SKETCH055_H_2)
        with Locations((-14.435839, -92.167499)):
            Rectangle(SKETCH055_W, SKETCH055_H)
        with Locations((-50.851364, 98.832999)):
            Rectangle(SKETCH055_W, SKETCH055_H)
        with Locations((-25.451364, 98.832999)):
            Rectangle(SKETCH055_W, SKETCH055_H)
        with Locations((42.388664, 25.651083)):
            Rectangle(SKETCH055_W_2, SKETCH055_H_2)
        with Locations((42.388664, 0.251083)):
            Rectangle(SKETCH055_W_2, SKETCH055_H_2)
        with Locations((42.388664, -25.148917)):
            Rectangle(SKETCH055_W_2, SKETCH055_H_2)
        with Locations((78.951774, -74.70213)):
            Rectangle(SKETCH055_W, SKETCH055_H)
        with Locations((50.78279, -99.61552)):
            Rectangle(SKETCH055_W, SKETCH055_H)
    extrude(amount=-POCKET035_DEPTH, mode=Mode.SUBTRACT)

    # Sketch057 (on DatumPlane) → Pocket036 (cut)
    with BuildSketch(Plane(origin=(0, 0, -8), x_dir=(1, 0, 0), z_dir=(0, 0, -1))):
        with Locations((90.650505, 12)):
            Rectangle(SKETCH057_W, SKETCH057_H)
        with Locations((90.650505, -12)):
            Rectangle(SKETCH057_W, SKETCH057_H)
    extrude(amount=-POCKET036_DEPTH, mode=Mode.SUBTRACT)

    # Sketch060 (on DatumPlane) → Pocket038 (cut)
    with BuildSketch(Plane(origin=(-79.145, 0, 0), x_dir=(0, -1, 0), z_dir=(-1, 0, 0))):
        with Locations((-54.5, -4.5)):
            Circle(SKETCH060_R)
        with Locations((54.5, -4.5)):
            Circle(SKETCH060_R)
    extrude(amount=-POCKET038_DEPTH, mode=Mode.SUBTRACT)


solid = part.part
